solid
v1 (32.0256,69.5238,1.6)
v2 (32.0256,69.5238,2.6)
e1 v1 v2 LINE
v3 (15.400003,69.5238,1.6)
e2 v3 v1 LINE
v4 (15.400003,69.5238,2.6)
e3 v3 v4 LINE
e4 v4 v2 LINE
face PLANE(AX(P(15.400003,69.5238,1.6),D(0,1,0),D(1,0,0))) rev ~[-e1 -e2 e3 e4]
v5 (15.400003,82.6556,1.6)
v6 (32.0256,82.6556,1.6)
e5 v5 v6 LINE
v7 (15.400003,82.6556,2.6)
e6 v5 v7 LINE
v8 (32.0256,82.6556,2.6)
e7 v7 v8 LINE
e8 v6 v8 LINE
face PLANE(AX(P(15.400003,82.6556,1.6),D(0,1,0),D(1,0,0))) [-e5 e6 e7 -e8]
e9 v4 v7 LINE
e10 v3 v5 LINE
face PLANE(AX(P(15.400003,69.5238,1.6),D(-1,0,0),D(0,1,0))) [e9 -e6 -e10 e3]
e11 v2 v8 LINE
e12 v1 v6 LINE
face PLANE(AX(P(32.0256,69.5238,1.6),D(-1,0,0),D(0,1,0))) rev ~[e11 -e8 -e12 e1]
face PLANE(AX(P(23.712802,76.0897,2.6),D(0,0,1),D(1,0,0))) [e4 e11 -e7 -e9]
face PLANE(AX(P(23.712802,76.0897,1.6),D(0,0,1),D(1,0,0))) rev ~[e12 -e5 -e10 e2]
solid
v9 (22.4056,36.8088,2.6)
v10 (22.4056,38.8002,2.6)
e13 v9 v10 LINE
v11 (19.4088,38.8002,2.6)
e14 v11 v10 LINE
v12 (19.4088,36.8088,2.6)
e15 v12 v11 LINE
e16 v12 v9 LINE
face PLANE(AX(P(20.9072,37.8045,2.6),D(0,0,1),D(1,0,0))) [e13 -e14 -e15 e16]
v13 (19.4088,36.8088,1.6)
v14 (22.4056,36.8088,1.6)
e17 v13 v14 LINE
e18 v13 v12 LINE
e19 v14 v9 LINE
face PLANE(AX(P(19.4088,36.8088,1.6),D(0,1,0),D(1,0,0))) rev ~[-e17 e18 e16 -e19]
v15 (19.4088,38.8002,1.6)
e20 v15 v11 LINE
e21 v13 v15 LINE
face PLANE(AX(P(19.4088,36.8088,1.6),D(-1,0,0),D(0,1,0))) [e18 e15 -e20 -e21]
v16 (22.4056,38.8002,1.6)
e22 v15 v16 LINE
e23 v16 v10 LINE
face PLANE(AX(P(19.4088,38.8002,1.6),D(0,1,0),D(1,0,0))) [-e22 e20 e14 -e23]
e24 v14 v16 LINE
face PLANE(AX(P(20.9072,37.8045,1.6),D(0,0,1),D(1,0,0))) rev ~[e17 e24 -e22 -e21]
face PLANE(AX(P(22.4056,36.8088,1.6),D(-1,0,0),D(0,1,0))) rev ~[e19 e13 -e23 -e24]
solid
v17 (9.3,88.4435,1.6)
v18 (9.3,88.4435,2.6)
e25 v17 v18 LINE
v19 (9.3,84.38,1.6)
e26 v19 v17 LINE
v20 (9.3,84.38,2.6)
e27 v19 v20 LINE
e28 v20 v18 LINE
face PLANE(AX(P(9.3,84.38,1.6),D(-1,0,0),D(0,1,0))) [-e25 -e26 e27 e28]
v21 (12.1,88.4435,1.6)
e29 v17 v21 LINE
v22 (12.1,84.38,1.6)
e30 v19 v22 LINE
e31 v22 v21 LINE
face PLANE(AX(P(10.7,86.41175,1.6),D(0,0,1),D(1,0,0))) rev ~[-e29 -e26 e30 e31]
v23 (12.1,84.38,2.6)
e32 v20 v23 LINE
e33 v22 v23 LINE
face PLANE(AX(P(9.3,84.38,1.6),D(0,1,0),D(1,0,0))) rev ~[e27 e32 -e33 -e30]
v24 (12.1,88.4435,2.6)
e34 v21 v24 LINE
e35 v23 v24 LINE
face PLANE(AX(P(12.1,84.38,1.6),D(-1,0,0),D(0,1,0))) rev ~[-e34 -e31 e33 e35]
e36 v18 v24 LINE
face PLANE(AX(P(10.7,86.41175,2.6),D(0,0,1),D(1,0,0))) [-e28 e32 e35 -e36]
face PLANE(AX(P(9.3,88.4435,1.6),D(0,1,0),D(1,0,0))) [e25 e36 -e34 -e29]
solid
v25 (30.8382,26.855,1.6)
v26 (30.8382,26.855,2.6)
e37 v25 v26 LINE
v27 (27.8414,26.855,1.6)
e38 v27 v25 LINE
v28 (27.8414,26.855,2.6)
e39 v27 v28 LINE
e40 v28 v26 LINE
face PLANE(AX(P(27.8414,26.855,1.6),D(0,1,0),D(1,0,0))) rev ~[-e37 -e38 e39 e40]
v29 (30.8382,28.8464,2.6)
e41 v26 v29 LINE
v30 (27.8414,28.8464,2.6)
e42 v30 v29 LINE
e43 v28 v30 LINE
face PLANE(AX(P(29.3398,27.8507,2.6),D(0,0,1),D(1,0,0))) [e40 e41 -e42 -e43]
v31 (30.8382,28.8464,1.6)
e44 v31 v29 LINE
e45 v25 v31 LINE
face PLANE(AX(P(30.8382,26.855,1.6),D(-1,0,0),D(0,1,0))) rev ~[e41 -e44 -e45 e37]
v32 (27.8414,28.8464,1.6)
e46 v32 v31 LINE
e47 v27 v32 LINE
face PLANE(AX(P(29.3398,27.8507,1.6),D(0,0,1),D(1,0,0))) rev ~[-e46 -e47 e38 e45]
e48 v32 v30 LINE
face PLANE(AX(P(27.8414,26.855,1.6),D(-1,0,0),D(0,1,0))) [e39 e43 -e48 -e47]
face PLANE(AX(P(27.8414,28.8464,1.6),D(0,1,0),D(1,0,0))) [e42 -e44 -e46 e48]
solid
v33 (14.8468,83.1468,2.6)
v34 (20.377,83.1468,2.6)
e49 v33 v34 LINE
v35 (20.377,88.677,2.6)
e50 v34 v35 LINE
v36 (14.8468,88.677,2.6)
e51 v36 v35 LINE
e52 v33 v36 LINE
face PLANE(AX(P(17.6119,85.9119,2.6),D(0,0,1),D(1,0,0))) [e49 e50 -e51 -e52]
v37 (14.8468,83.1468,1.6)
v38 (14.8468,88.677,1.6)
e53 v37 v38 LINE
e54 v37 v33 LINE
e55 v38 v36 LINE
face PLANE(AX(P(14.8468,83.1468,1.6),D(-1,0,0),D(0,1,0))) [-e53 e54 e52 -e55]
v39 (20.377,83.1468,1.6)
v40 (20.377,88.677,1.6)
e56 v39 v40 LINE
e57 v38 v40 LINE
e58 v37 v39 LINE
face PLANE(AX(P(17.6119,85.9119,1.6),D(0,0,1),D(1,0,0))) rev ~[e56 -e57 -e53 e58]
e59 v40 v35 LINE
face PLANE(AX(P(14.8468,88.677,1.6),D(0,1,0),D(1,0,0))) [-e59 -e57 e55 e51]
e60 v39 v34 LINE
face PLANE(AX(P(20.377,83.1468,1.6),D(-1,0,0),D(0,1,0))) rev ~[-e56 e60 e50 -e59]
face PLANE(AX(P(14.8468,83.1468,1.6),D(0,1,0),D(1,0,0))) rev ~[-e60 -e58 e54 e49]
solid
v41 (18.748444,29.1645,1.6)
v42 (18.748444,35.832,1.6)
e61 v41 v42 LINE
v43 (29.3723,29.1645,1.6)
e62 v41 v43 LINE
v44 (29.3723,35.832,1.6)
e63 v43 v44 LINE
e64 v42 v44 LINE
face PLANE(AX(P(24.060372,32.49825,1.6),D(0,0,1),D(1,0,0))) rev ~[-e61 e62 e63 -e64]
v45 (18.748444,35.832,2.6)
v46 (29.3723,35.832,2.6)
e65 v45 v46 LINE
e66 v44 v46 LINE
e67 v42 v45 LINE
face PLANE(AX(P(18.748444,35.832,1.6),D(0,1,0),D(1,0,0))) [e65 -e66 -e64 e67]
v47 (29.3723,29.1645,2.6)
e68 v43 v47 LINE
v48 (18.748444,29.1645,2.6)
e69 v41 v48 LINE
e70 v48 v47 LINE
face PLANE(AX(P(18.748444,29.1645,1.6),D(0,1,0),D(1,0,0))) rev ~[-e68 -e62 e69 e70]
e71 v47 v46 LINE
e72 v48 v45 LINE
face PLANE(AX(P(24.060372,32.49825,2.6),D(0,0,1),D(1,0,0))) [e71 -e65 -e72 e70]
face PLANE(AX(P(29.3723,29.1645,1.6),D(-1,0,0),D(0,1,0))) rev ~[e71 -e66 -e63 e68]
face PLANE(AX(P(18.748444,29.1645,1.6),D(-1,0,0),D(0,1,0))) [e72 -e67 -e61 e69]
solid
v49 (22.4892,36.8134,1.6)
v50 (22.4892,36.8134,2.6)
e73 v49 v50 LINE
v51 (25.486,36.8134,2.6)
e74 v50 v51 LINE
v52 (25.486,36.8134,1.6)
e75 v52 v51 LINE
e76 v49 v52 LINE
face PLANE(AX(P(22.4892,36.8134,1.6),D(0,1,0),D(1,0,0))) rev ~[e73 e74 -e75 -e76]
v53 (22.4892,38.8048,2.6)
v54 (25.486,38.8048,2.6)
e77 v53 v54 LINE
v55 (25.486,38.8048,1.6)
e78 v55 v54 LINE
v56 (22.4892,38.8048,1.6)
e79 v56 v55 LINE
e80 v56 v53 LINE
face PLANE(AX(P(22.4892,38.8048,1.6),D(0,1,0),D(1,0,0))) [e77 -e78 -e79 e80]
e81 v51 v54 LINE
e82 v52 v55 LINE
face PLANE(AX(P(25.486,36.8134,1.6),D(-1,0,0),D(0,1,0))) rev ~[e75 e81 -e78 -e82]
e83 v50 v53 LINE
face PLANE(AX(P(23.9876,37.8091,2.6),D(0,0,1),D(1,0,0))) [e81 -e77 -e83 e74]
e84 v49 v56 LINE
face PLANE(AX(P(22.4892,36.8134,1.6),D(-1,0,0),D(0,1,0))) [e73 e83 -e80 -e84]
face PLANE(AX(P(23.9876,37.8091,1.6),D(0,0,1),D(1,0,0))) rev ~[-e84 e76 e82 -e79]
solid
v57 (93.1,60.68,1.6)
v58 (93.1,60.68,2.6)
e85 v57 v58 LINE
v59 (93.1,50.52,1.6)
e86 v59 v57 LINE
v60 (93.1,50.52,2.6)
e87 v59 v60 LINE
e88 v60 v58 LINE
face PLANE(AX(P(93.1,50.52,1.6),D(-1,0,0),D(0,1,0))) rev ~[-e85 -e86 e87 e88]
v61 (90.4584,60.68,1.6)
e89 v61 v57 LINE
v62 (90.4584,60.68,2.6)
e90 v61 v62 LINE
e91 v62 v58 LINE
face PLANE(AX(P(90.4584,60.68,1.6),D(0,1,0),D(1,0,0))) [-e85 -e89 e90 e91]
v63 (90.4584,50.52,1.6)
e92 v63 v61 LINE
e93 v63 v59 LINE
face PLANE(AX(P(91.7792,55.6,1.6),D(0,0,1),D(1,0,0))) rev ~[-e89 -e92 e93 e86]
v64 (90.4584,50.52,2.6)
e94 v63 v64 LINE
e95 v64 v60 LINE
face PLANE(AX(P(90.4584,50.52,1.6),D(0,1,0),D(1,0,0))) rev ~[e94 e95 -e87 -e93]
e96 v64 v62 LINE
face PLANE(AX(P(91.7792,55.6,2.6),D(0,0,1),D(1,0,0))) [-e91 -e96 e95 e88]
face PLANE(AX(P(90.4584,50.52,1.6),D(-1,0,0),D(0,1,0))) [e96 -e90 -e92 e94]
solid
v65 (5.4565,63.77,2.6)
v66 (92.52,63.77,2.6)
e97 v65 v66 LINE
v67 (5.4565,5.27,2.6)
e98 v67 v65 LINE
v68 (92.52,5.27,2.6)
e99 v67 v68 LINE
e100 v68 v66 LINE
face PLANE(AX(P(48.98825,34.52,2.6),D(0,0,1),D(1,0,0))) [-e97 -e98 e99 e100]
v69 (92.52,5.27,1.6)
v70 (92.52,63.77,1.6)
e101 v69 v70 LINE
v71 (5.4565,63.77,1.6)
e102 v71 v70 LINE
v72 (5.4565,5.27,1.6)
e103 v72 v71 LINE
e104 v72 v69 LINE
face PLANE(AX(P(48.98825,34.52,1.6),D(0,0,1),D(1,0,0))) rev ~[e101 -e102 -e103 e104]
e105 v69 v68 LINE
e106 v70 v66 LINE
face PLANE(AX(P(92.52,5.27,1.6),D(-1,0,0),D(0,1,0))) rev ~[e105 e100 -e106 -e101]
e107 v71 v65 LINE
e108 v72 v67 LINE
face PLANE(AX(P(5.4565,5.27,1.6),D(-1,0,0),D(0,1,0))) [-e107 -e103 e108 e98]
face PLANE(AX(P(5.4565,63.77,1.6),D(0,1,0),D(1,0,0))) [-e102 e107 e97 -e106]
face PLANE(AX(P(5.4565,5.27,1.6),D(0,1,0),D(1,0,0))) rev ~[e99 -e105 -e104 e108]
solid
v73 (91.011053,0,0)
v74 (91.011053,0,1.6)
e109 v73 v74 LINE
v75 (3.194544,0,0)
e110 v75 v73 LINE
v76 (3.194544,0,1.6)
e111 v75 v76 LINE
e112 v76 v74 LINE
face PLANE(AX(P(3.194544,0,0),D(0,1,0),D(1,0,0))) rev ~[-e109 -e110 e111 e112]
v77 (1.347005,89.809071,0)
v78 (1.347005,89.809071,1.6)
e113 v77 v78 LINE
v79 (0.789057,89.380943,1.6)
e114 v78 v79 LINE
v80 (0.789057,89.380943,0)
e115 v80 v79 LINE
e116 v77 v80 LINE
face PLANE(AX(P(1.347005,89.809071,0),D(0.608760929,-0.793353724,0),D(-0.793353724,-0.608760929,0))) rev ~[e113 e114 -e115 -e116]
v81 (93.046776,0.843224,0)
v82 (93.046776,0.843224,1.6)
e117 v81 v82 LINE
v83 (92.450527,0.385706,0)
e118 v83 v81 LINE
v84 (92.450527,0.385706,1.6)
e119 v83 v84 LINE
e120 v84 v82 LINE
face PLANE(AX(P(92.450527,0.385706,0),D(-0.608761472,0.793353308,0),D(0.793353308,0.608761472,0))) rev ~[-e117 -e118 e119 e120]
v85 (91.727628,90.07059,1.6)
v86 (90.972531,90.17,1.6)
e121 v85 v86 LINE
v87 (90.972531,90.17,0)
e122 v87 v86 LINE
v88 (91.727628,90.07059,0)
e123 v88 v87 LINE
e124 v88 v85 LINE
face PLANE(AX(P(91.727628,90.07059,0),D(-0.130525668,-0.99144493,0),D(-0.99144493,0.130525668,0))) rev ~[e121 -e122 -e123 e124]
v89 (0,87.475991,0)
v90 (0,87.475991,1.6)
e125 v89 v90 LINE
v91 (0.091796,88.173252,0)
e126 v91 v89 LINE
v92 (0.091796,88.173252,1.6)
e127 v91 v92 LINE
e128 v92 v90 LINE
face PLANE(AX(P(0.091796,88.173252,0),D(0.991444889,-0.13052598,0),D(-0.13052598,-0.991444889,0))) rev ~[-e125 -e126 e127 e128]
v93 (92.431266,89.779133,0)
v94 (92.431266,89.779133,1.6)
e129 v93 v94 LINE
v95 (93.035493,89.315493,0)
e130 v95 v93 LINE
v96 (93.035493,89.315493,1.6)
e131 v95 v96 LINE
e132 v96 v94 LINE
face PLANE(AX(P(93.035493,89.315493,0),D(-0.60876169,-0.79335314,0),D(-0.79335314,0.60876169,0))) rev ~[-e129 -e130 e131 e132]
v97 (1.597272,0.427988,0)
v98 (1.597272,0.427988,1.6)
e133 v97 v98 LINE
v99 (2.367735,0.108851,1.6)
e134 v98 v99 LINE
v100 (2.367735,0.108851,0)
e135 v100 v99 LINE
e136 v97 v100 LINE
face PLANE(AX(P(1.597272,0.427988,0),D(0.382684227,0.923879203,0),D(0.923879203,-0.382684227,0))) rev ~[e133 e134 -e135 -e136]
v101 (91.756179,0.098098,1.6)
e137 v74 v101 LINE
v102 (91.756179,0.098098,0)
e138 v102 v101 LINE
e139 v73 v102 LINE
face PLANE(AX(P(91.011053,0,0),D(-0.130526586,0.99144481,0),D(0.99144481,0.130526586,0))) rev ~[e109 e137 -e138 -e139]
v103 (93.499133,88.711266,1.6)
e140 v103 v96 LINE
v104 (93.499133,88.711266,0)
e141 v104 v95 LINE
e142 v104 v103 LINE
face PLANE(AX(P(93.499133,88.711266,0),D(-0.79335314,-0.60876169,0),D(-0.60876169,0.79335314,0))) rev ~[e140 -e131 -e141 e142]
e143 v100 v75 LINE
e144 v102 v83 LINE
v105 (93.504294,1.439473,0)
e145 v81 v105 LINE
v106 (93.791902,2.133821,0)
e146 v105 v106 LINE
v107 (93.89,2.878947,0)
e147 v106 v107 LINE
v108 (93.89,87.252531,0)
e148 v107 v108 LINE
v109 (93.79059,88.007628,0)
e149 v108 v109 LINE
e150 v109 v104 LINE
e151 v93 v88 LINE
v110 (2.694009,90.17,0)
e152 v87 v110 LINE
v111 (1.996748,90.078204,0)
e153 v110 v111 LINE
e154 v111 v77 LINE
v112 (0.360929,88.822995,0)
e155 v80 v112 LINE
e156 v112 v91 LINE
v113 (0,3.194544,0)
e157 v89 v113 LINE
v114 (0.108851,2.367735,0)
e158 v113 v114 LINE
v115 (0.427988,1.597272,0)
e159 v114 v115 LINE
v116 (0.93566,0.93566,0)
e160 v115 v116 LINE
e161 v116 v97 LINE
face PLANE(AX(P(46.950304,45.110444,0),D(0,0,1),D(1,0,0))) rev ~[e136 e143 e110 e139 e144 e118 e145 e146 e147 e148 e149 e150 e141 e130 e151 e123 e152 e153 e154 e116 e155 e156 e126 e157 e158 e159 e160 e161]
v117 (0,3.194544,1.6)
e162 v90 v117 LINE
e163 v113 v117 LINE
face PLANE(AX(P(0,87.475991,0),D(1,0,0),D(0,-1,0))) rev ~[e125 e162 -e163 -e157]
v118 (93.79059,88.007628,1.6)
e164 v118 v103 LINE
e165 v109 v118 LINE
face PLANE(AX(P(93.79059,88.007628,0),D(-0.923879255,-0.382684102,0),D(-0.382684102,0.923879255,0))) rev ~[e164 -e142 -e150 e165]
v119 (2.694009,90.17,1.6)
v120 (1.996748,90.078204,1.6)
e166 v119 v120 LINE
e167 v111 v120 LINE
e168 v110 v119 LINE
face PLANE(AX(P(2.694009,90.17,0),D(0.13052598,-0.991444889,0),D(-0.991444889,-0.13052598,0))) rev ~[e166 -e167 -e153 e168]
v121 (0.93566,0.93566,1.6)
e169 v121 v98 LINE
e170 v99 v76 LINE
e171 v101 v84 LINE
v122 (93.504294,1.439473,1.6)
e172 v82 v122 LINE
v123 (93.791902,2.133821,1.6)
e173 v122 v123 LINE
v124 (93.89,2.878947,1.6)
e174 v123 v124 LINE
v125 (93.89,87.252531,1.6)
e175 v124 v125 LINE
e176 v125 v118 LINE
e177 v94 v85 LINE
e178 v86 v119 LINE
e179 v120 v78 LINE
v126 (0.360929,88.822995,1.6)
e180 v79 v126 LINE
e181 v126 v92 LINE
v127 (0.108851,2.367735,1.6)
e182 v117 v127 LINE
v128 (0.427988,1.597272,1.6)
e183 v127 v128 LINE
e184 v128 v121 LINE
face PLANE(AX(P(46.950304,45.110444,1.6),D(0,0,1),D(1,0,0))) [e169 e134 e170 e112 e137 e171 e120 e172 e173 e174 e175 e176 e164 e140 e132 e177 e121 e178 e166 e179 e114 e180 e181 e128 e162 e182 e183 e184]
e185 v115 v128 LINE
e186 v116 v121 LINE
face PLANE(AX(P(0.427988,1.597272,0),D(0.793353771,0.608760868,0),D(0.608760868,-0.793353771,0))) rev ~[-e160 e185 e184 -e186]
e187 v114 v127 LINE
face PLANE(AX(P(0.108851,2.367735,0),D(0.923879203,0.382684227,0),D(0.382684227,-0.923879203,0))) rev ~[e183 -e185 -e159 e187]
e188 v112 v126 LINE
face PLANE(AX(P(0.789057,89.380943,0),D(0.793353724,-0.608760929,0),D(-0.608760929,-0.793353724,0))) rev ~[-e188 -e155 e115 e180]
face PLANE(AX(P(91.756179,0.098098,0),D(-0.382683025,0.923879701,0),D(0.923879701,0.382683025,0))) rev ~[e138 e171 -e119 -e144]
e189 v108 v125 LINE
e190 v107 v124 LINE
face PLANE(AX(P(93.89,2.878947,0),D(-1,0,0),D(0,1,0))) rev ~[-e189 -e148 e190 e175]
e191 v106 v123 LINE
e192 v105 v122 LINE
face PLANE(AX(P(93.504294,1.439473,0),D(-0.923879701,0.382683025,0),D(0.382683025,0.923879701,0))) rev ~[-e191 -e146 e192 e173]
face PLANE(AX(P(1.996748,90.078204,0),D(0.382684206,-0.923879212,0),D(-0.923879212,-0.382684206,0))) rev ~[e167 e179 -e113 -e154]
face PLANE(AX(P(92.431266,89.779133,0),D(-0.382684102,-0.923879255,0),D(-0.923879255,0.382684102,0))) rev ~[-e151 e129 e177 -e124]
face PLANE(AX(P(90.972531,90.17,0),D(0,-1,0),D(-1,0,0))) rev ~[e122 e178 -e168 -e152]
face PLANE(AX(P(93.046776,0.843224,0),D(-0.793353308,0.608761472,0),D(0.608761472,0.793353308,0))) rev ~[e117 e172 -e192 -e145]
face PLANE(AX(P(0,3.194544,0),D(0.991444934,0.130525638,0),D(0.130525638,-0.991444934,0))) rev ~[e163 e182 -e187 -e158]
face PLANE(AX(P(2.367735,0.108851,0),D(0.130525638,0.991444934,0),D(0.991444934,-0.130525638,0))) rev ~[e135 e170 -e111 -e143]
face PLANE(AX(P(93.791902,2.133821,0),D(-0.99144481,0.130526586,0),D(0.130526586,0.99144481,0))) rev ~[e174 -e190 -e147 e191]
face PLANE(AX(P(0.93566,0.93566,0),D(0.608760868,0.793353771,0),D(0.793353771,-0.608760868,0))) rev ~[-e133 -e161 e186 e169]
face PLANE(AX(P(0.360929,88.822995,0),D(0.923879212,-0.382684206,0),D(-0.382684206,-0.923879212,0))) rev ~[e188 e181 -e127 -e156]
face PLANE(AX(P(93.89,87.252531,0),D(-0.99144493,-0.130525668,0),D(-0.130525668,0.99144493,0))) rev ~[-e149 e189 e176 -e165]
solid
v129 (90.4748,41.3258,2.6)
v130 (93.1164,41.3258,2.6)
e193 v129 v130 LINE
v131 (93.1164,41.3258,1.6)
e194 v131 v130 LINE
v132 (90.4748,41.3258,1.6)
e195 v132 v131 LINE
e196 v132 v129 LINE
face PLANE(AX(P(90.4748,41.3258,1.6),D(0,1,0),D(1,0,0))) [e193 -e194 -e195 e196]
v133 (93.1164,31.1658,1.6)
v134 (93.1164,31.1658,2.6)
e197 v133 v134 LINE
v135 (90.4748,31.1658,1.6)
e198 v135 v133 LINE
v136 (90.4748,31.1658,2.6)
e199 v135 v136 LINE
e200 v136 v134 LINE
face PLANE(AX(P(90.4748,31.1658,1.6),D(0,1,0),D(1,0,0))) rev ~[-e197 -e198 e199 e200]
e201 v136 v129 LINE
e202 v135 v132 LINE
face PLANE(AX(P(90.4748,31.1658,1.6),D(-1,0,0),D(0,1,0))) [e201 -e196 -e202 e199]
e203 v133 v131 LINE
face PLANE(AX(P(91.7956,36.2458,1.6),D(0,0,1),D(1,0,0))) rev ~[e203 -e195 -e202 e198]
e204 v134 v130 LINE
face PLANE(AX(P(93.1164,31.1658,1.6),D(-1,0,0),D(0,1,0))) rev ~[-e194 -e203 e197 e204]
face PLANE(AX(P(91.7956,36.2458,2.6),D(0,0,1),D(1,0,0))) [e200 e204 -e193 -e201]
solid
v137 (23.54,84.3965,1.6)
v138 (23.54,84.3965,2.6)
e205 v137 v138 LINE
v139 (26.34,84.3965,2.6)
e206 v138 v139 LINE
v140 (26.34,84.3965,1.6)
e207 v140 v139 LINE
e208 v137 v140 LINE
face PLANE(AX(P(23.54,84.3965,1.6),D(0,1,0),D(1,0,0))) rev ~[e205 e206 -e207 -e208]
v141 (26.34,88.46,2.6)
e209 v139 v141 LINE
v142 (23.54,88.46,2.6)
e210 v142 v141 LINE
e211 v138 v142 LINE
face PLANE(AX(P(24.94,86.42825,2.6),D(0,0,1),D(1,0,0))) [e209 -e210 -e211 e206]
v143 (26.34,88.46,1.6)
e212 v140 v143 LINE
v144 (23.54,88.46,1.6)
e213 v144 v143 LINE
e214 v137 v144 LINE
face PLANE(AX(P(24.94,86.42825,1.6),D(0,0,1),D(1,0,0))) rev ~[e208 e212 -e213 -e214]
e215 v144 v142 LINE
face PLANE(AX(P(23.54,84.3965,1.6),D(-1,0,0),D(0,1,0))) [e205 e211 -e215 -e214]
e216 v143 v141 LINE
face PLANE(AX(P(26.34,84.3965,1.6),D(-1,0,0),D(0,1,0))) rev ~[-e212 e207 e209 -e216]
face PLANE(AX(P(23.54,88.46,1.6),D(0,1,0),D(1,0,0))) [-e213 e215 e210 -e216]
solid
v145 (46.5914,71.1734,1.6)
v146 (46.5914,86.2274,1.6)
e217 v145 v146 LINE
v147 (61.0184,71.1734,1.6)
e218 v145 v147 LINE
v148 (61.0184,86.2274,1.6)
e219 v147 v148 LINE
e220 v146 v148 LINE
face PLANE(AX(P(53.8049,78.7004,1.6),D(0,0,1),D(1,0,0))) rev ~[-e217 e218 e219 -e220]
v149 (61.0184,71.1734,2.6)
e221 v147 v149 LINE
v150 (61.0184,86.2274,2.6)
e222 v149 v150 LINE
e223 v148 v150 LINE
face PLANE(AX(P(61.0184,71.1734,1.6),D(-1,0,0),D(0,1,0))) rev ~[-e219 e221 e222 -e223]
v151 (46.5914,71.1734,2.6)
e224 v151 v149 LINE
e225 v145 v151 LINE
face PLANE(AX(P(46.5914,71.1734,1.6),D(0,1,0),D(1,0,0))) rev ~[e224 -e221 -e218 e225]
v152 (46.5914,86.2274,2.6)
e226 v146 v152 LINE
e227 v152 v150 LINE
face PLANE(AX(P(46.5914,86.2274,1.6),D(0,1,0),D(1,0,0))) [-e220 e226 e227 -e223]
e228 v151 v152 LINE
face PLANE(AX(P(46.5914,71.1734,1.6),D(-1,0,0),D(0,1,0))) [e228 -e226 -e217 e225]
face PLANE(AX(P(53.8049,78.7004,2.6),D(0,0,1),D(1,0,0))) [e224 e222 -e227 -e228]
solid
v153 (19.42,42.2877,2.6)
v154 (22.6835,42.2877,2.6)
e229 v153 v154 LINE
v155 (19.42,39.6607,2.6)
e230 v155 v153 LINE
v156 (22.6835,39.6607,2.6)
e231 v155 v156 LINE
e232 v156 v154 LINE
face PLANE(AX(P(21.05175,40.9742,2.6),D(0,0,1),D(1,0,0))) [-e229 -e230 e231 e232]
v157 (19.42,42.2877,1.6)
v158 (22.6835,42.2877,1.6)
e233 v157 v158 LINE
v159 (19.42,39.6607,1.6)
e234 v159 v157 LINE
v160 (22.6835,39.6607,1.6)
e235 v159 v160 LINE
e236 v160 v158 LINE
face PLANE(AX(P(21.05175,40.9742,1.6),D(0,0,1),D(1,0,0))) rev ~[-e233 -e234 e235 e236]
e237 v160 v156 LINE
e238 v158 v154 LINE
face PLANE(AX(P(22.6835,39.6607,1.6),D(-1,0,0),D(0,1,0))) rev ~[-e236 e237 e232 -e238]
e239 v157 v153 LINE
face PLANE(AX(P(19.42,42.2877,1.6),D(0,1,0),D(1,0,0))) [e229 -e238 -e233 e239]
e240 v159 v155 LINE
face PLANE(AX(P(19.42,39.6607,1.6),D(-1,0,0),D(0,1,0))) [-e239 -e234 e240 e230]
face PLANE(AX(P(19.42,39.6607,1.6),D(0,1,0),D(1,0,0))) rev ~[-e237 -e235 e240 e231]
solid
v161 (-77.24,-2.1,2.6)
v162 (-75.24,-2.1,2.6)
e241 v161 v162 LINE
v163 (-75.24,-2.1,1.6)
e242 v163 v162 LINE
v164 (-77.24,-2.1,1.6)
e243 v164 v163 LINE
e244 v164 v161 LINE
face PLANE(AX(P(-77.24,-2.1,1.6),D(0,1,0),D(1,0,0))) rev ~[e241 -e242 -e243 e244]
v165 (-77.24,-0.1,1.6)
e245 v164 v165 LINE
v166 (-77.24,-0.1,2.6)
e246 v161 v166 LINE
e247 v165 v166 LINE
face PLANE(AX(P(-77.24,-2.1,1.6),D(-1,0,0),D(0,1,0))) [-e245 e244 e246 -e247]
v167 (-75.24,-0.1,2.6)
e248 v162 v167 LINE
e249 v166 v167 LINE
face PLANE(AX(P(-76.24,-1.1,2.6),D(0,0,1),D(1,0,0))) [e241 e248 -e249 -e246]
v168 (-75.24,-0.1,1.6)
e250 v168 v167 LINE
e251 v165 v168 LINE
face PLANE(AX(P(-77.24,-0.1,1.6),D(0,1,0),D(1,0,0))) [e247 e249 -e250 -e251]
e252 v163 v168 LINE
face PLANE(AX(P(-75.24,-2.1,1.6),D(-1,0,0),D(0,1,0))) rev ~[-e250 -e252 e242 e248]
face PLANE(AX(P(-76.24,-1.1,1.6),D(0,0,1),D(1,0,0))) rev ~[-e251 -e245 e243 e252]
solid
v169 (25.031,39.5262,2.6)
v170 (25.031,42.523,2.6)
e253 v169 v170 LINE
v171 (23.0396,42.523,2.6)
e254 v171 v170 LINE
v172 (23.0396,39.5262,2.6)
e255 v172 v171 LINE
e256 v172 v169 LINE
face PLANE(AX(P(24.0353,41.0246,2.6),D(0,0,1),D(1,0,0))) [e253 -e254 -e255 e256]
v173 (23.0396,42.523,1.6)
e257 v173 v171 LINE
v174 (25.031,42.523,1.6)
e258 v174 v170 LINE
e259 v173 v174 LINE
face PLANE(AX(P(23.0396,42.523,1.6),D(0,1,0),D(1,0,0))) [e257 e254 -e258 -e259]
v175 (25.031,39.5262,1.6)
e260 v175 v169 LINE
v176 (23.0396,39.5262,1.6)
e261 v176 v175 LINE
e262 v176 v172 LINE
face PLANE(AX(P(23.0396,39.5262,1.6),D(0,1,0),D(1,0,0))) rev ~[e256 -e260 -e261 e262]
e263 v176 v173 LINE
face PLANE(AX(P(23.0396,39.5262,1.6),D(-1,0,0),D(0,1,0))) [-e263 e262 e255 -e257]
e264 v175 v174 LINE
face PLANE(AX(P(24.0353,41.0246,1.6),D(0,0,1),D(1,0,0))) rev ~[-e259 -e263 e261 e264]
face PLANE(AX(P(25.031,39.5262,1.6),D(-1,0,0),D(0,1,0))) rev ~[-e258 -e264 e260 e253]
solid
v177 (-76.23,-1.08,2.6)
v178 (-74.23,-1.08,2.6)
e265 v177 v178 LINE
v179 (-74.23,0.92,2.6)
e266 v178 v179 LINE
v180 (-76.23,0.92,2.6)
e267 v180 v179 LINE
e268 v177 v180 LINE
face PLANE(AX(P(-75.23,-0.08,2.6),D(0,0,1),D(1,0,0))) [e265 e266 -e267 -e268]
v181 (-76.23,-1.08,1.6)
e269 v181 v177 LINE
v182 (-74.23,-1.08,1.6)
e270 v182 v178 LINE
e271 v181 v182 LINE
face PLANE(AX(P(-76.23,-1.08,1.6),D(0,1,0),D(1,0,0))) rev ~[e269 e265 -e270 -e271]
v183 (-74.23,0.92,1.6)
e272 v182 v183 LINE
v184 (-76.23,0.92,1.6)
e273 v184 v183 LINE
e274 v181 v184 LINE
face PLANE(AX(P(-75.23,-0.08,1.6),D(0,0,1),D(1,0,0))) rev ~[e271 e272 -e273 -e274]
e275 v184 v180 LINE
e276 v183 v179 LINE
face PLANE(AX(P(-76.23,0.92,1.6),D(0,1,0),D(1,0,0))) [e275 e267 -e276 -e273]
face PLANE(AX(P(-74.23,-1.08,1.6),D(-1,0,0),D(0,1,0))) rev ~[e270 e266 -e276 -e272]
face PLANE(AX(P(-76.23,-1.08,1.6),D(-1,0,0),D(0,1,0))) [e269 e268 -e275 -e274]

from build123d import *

# Parameters (mm, degrees)
BOARD_DEPTH                 = 1.6
ESQUISSE2_W                 = 1.9914
ESQUISSE2_H                 = 2.9968
F_0603_CAP_1_DEPTH          = 1
ESQUISSE3_W                 = 2.9968
ESQUISSE3_H                 = 1.9914
F_0603_CAP_2_DEPTH          = 1
ESQUISSE4_W                 = 2.9968
ESQUISSE4_H                 = 1.9914
F_0603_CAP_3_DEPTH          = 1
ESQUISSE5_W                 = 2.9968
ESQUISSE5_H                 = 1.9914
F_0603_CAP_4_DEPTH          = 1
ESQUISSE6_W                 = 2
ESQUISSE6_H                 = 2
DUMMY_1_DEPTH               = 1
ESQUISSE7_W                 = 2
ESQUISSE7_H                 = 2
DUMMY_2_DEPTH               = 1
ESQUISSE8_W                 = 2.8
ESQUISSE8_H                 = 4.0635
U_FL_1_DEPTH                = 1
ESQUISSE9_W                 = 2.8
ESQUISSE9_H                 = 4.0635
U_FL_2_DEPTH                = 1
ESQUISSE10_W                = 2.6416
ESQUISSE10_H                = 10.16
EXTRUDE_1X04_1_DEPTH        = 1
ESQUISSE11_W                = 2.6416
ESQUISSE11_H                = 10.16
EXTRUDE_1X04_2_DEPTH        = 1
ESQUISSE14_W                = 87.0635
ESQUISSE14_H                = 58.5
RPI3_1_DEPTH                = 1
ESQUISSE15_W                = 10.623856
ESQUISSE15_H                = 6.6675
SO016_1_DEPTH               = 1
ESQUISSE16_W                = 5.5302
ESQUISSE16_H                = 5.5302
QFN32_5X5MM_1_DEPTH         = 1
ESQUISSE17_W                = 16.625597
ESQUISSE17_H                = 13.1318
S1216_24PIN_PACKAGE_1_DEPTH = 1
ESQUISSE18_W                = 14.427
ESQUISSE18_H                = 15.054
PN87520_1_DEPTH             = 1
ESQUISSE19_W                = 3.2635
ESQUISSE19_H                = 2.627
CRYSTAL_SMD_3_2X2_5_1_DEPTH = 1


with BuildPart() as part:
    # Esquisse1 → BOARD (new body)
    with BuildSketch(Plane.XY):
        Polygon((0, 87.475991), (0, 3.194544), (0.108851, 2.367735), (0.427988, 1.597272), (0.93566, 0.93566), (1.597272, 0.427988), (2.367735, 0.108851), (3.194544, 0), (91.011053, 0), (91.756179, 0.098098), (92.450527, 0.385706), (93.046776, 0.843224), (93.504294, 1.439473), (93.791902, 2.133821), (93.89, 2.878947), (93.89, 87.252531), (93.79059, 88.007628), (93.499133, 88.711266), (93.035493, 89.315493), (92.431266, 89.779133), (91.727628, 90.07059), (90.972531, 90.17), (2.694009, 90.17), (1.996748, 90.078204), (1.347005, 89.809071), (0.789057, 89.380943), (0.360929, 88.822995), (0.091796, 88.173252), align=None)
    extrude(amount=BOARD_DEPTH)


with BuildPart() as body_2:
    # Esquisse2 → 0603-CAP-1 (new body)
    with BuildSketch(Plane.XY.offset(1.6)):
        with Locations((24.0353, 41.0246)):
            Rectangle(ESQUISSE2_W, ESQUISSE2_H)
    extrude(amount=F_0603_CAP_1_DEPTH)


with BuildPart() as body_3:
    # Esquisse3 → 0603-CAP-2 (new body)
    with BuildSketch(Plane.XY.offset(1.6)):
        with Locations((20.9072, 37.8045)):
            Rectangle(ESQUISSE3_W, ESQUISSE3_H)
    extrude(amount=F_0603_CAP_2_DEPTH)


with BuildPart() as body_4:
    # Esquisse4 → 0603-CAP-3 (new body)
    with BuildSketch(Plane.XY.offset(1.6)):
        with Locations((23.9876, 37.8091)):
            Rectangle(ESQUISSE4_W, ESQUISSE4_H)
    extrude(amount=F_0603_CAP_3_DEPTH)


with BuildPart() as body_5:
    # Esquisse5 → 0603-CAP-4 (new body)
    with BuildSketch(Plane.XY.offset(1.6)):
        with Locations((29.3398, 27.8507)):
            Rectangle(ESQUISSE5_W, ESQUISSE5_H)
    extrude(amount=F_0603_CAP_4_DEPTH)


with BuildPart() as body_6:
    # Esquisse6 → DUMMY-1 (new body)
    with BuildSketch(Plane.XY.offset(1.6)):
        with Locations((-75.23, -0.08)):
            Rectangle(ESQUISSE6_W, ESQUISSE6_H)
    extrude(amount=DUMMY_1_DEPTH)


with BuildPart() as body_7:
    # Esquisse7 → DUMMY-2 (new body)
    with BuildSketch(Plane.XY.offset(1.6)):
        with Locations((-76.24, -1.1)):
            Rectangle(ESQUISSE7_W, ESQUISSE7_H)
    extrude(amount=DUMMY_2_DEPTH)


with BuildPart() as body_8:
    # Esquisse8 → U_FL-1 (new body)
    with BuildSketch(Plane.XY.offset(1.6)):
        with Locations((24.94, 86.42825)):
            Rectangle(ESQUISSE8_W, ESQUISSE8_H)
    extrude(amount=U_FL_1_DEPTH)


with BuildPart() as body_9:
    # Esquisse9 → U_FL-2 (new body)
    with BuildSketch(Plane.XY.offset(1.6)):
        with Locations((10.7, 86.41175)):
            Rectangle(ESQUISSE9_W, ESQUISSE9_H)
    extrude(amount=U_FL_2_DEPTH)


with BuildPart() as body_10:
    # Esquisse10 → 1X04-1 (new body)
    with BuildSketch(Plane.XY.offset(1.6)):
        with Locations((91.7792, 55.6)):
            Rectangle(ESQUISSE10_W, ESQUISSE10_H)
    extrude(amount=EXTRUDE_1X04_1_DEPTH)


with BuildPart() as body_11:
    # Esquisse11 → 1X04-2 (new body)
    with BuildSketch(Plane.XY.offset(1.6)):
        with Locations((91.7956, 36.2458)):
            Rectangle(ESQUISSE11_W, ESQUISSE11_H)
    extrude(amount=EXTRUDE_1X04_2_DEPTH)


with BuildPart() as body_12:
    # Esquisse14 → RPI3-1 (new body)
    with BuildSketch(Plane.XY.offset(1.6)):
        with Locations((48.98825, 34.52)):
            Rectangle(ESQUISSE14_W, ESQUISSE14_H)
    extrude(amount=RPI3_1_DEPTH)


with BuildPart() as body_13:
    # Esquisse15 → SO016-1 (new body)
    with BuildSketch(Plane.XY.offset(1.6)):
        with Locations((24.060372, 32.49825)):
            Rectangle(ESQUISSE15_W, ESQUISSE15_H)
    extrude(amount=SO016_1_DEPTH)


with BuildPart() as body_14:
    # Esquisse16 → QFN32-5X5MM-1 (new body)
    with BuildSketch(Plane.XY.offset(1.6)):
        with Locations((17.6119, 85.9119)):
            Rectangle(ESQUISSE16_W, ESQUISSE16_H)
    extrude(amount=QFN32_5X5MM_1_DEPTH)


with BuildPart() as body_15:
    # Esquisse17 → S1216_24PIN_PACKAGE-1 (new body)
    with BuildSketch(Plane.XY.offset(1.6)):
        with Locations((23.7128015, 76.0897)):
            Rectangle(ESQUISSE17_W, ESQUISSE17_H)
    extrude(amount=S1216_24PIN_PACKAGE_1_DEPTH)


with BuildPart() as body_16:
    # Esquisse18 → PN87520-1 (new body)
    with BuildSketch(Plane.XY.offset(1.6)):
        with Locations((53.8049, 78.7004)):
            Rectangle(ESQUISSE18_W, ESQUISSE18_H)
    extrude(amount=PN87520_1_DEPTH)


with BuildPart() as body_17:
    # Esquisse19 → CRYSTAL-SMD-3_2X2_5-1 (new body)
    with BuildSketch(Plane.XY.offset(1.6)):
        with Locations((21.05175, 40.9742)):
            Rectangle(ESQUISSE19_W, ESQUISSE19_H)
    extrude(amount=CRYSTAL_SMD_3_2X2_5_1_DEPTH)


solid = Compound([part.part, body_2.part, body_3.part, body_4.part, body_5.part, body_6.part, body_7.part, body_8.part, body_9.part, body_10.part, body_11.part, body_12.part, body_13.part, body_14.part, body_15.part, body_16.part, body_17.part])
